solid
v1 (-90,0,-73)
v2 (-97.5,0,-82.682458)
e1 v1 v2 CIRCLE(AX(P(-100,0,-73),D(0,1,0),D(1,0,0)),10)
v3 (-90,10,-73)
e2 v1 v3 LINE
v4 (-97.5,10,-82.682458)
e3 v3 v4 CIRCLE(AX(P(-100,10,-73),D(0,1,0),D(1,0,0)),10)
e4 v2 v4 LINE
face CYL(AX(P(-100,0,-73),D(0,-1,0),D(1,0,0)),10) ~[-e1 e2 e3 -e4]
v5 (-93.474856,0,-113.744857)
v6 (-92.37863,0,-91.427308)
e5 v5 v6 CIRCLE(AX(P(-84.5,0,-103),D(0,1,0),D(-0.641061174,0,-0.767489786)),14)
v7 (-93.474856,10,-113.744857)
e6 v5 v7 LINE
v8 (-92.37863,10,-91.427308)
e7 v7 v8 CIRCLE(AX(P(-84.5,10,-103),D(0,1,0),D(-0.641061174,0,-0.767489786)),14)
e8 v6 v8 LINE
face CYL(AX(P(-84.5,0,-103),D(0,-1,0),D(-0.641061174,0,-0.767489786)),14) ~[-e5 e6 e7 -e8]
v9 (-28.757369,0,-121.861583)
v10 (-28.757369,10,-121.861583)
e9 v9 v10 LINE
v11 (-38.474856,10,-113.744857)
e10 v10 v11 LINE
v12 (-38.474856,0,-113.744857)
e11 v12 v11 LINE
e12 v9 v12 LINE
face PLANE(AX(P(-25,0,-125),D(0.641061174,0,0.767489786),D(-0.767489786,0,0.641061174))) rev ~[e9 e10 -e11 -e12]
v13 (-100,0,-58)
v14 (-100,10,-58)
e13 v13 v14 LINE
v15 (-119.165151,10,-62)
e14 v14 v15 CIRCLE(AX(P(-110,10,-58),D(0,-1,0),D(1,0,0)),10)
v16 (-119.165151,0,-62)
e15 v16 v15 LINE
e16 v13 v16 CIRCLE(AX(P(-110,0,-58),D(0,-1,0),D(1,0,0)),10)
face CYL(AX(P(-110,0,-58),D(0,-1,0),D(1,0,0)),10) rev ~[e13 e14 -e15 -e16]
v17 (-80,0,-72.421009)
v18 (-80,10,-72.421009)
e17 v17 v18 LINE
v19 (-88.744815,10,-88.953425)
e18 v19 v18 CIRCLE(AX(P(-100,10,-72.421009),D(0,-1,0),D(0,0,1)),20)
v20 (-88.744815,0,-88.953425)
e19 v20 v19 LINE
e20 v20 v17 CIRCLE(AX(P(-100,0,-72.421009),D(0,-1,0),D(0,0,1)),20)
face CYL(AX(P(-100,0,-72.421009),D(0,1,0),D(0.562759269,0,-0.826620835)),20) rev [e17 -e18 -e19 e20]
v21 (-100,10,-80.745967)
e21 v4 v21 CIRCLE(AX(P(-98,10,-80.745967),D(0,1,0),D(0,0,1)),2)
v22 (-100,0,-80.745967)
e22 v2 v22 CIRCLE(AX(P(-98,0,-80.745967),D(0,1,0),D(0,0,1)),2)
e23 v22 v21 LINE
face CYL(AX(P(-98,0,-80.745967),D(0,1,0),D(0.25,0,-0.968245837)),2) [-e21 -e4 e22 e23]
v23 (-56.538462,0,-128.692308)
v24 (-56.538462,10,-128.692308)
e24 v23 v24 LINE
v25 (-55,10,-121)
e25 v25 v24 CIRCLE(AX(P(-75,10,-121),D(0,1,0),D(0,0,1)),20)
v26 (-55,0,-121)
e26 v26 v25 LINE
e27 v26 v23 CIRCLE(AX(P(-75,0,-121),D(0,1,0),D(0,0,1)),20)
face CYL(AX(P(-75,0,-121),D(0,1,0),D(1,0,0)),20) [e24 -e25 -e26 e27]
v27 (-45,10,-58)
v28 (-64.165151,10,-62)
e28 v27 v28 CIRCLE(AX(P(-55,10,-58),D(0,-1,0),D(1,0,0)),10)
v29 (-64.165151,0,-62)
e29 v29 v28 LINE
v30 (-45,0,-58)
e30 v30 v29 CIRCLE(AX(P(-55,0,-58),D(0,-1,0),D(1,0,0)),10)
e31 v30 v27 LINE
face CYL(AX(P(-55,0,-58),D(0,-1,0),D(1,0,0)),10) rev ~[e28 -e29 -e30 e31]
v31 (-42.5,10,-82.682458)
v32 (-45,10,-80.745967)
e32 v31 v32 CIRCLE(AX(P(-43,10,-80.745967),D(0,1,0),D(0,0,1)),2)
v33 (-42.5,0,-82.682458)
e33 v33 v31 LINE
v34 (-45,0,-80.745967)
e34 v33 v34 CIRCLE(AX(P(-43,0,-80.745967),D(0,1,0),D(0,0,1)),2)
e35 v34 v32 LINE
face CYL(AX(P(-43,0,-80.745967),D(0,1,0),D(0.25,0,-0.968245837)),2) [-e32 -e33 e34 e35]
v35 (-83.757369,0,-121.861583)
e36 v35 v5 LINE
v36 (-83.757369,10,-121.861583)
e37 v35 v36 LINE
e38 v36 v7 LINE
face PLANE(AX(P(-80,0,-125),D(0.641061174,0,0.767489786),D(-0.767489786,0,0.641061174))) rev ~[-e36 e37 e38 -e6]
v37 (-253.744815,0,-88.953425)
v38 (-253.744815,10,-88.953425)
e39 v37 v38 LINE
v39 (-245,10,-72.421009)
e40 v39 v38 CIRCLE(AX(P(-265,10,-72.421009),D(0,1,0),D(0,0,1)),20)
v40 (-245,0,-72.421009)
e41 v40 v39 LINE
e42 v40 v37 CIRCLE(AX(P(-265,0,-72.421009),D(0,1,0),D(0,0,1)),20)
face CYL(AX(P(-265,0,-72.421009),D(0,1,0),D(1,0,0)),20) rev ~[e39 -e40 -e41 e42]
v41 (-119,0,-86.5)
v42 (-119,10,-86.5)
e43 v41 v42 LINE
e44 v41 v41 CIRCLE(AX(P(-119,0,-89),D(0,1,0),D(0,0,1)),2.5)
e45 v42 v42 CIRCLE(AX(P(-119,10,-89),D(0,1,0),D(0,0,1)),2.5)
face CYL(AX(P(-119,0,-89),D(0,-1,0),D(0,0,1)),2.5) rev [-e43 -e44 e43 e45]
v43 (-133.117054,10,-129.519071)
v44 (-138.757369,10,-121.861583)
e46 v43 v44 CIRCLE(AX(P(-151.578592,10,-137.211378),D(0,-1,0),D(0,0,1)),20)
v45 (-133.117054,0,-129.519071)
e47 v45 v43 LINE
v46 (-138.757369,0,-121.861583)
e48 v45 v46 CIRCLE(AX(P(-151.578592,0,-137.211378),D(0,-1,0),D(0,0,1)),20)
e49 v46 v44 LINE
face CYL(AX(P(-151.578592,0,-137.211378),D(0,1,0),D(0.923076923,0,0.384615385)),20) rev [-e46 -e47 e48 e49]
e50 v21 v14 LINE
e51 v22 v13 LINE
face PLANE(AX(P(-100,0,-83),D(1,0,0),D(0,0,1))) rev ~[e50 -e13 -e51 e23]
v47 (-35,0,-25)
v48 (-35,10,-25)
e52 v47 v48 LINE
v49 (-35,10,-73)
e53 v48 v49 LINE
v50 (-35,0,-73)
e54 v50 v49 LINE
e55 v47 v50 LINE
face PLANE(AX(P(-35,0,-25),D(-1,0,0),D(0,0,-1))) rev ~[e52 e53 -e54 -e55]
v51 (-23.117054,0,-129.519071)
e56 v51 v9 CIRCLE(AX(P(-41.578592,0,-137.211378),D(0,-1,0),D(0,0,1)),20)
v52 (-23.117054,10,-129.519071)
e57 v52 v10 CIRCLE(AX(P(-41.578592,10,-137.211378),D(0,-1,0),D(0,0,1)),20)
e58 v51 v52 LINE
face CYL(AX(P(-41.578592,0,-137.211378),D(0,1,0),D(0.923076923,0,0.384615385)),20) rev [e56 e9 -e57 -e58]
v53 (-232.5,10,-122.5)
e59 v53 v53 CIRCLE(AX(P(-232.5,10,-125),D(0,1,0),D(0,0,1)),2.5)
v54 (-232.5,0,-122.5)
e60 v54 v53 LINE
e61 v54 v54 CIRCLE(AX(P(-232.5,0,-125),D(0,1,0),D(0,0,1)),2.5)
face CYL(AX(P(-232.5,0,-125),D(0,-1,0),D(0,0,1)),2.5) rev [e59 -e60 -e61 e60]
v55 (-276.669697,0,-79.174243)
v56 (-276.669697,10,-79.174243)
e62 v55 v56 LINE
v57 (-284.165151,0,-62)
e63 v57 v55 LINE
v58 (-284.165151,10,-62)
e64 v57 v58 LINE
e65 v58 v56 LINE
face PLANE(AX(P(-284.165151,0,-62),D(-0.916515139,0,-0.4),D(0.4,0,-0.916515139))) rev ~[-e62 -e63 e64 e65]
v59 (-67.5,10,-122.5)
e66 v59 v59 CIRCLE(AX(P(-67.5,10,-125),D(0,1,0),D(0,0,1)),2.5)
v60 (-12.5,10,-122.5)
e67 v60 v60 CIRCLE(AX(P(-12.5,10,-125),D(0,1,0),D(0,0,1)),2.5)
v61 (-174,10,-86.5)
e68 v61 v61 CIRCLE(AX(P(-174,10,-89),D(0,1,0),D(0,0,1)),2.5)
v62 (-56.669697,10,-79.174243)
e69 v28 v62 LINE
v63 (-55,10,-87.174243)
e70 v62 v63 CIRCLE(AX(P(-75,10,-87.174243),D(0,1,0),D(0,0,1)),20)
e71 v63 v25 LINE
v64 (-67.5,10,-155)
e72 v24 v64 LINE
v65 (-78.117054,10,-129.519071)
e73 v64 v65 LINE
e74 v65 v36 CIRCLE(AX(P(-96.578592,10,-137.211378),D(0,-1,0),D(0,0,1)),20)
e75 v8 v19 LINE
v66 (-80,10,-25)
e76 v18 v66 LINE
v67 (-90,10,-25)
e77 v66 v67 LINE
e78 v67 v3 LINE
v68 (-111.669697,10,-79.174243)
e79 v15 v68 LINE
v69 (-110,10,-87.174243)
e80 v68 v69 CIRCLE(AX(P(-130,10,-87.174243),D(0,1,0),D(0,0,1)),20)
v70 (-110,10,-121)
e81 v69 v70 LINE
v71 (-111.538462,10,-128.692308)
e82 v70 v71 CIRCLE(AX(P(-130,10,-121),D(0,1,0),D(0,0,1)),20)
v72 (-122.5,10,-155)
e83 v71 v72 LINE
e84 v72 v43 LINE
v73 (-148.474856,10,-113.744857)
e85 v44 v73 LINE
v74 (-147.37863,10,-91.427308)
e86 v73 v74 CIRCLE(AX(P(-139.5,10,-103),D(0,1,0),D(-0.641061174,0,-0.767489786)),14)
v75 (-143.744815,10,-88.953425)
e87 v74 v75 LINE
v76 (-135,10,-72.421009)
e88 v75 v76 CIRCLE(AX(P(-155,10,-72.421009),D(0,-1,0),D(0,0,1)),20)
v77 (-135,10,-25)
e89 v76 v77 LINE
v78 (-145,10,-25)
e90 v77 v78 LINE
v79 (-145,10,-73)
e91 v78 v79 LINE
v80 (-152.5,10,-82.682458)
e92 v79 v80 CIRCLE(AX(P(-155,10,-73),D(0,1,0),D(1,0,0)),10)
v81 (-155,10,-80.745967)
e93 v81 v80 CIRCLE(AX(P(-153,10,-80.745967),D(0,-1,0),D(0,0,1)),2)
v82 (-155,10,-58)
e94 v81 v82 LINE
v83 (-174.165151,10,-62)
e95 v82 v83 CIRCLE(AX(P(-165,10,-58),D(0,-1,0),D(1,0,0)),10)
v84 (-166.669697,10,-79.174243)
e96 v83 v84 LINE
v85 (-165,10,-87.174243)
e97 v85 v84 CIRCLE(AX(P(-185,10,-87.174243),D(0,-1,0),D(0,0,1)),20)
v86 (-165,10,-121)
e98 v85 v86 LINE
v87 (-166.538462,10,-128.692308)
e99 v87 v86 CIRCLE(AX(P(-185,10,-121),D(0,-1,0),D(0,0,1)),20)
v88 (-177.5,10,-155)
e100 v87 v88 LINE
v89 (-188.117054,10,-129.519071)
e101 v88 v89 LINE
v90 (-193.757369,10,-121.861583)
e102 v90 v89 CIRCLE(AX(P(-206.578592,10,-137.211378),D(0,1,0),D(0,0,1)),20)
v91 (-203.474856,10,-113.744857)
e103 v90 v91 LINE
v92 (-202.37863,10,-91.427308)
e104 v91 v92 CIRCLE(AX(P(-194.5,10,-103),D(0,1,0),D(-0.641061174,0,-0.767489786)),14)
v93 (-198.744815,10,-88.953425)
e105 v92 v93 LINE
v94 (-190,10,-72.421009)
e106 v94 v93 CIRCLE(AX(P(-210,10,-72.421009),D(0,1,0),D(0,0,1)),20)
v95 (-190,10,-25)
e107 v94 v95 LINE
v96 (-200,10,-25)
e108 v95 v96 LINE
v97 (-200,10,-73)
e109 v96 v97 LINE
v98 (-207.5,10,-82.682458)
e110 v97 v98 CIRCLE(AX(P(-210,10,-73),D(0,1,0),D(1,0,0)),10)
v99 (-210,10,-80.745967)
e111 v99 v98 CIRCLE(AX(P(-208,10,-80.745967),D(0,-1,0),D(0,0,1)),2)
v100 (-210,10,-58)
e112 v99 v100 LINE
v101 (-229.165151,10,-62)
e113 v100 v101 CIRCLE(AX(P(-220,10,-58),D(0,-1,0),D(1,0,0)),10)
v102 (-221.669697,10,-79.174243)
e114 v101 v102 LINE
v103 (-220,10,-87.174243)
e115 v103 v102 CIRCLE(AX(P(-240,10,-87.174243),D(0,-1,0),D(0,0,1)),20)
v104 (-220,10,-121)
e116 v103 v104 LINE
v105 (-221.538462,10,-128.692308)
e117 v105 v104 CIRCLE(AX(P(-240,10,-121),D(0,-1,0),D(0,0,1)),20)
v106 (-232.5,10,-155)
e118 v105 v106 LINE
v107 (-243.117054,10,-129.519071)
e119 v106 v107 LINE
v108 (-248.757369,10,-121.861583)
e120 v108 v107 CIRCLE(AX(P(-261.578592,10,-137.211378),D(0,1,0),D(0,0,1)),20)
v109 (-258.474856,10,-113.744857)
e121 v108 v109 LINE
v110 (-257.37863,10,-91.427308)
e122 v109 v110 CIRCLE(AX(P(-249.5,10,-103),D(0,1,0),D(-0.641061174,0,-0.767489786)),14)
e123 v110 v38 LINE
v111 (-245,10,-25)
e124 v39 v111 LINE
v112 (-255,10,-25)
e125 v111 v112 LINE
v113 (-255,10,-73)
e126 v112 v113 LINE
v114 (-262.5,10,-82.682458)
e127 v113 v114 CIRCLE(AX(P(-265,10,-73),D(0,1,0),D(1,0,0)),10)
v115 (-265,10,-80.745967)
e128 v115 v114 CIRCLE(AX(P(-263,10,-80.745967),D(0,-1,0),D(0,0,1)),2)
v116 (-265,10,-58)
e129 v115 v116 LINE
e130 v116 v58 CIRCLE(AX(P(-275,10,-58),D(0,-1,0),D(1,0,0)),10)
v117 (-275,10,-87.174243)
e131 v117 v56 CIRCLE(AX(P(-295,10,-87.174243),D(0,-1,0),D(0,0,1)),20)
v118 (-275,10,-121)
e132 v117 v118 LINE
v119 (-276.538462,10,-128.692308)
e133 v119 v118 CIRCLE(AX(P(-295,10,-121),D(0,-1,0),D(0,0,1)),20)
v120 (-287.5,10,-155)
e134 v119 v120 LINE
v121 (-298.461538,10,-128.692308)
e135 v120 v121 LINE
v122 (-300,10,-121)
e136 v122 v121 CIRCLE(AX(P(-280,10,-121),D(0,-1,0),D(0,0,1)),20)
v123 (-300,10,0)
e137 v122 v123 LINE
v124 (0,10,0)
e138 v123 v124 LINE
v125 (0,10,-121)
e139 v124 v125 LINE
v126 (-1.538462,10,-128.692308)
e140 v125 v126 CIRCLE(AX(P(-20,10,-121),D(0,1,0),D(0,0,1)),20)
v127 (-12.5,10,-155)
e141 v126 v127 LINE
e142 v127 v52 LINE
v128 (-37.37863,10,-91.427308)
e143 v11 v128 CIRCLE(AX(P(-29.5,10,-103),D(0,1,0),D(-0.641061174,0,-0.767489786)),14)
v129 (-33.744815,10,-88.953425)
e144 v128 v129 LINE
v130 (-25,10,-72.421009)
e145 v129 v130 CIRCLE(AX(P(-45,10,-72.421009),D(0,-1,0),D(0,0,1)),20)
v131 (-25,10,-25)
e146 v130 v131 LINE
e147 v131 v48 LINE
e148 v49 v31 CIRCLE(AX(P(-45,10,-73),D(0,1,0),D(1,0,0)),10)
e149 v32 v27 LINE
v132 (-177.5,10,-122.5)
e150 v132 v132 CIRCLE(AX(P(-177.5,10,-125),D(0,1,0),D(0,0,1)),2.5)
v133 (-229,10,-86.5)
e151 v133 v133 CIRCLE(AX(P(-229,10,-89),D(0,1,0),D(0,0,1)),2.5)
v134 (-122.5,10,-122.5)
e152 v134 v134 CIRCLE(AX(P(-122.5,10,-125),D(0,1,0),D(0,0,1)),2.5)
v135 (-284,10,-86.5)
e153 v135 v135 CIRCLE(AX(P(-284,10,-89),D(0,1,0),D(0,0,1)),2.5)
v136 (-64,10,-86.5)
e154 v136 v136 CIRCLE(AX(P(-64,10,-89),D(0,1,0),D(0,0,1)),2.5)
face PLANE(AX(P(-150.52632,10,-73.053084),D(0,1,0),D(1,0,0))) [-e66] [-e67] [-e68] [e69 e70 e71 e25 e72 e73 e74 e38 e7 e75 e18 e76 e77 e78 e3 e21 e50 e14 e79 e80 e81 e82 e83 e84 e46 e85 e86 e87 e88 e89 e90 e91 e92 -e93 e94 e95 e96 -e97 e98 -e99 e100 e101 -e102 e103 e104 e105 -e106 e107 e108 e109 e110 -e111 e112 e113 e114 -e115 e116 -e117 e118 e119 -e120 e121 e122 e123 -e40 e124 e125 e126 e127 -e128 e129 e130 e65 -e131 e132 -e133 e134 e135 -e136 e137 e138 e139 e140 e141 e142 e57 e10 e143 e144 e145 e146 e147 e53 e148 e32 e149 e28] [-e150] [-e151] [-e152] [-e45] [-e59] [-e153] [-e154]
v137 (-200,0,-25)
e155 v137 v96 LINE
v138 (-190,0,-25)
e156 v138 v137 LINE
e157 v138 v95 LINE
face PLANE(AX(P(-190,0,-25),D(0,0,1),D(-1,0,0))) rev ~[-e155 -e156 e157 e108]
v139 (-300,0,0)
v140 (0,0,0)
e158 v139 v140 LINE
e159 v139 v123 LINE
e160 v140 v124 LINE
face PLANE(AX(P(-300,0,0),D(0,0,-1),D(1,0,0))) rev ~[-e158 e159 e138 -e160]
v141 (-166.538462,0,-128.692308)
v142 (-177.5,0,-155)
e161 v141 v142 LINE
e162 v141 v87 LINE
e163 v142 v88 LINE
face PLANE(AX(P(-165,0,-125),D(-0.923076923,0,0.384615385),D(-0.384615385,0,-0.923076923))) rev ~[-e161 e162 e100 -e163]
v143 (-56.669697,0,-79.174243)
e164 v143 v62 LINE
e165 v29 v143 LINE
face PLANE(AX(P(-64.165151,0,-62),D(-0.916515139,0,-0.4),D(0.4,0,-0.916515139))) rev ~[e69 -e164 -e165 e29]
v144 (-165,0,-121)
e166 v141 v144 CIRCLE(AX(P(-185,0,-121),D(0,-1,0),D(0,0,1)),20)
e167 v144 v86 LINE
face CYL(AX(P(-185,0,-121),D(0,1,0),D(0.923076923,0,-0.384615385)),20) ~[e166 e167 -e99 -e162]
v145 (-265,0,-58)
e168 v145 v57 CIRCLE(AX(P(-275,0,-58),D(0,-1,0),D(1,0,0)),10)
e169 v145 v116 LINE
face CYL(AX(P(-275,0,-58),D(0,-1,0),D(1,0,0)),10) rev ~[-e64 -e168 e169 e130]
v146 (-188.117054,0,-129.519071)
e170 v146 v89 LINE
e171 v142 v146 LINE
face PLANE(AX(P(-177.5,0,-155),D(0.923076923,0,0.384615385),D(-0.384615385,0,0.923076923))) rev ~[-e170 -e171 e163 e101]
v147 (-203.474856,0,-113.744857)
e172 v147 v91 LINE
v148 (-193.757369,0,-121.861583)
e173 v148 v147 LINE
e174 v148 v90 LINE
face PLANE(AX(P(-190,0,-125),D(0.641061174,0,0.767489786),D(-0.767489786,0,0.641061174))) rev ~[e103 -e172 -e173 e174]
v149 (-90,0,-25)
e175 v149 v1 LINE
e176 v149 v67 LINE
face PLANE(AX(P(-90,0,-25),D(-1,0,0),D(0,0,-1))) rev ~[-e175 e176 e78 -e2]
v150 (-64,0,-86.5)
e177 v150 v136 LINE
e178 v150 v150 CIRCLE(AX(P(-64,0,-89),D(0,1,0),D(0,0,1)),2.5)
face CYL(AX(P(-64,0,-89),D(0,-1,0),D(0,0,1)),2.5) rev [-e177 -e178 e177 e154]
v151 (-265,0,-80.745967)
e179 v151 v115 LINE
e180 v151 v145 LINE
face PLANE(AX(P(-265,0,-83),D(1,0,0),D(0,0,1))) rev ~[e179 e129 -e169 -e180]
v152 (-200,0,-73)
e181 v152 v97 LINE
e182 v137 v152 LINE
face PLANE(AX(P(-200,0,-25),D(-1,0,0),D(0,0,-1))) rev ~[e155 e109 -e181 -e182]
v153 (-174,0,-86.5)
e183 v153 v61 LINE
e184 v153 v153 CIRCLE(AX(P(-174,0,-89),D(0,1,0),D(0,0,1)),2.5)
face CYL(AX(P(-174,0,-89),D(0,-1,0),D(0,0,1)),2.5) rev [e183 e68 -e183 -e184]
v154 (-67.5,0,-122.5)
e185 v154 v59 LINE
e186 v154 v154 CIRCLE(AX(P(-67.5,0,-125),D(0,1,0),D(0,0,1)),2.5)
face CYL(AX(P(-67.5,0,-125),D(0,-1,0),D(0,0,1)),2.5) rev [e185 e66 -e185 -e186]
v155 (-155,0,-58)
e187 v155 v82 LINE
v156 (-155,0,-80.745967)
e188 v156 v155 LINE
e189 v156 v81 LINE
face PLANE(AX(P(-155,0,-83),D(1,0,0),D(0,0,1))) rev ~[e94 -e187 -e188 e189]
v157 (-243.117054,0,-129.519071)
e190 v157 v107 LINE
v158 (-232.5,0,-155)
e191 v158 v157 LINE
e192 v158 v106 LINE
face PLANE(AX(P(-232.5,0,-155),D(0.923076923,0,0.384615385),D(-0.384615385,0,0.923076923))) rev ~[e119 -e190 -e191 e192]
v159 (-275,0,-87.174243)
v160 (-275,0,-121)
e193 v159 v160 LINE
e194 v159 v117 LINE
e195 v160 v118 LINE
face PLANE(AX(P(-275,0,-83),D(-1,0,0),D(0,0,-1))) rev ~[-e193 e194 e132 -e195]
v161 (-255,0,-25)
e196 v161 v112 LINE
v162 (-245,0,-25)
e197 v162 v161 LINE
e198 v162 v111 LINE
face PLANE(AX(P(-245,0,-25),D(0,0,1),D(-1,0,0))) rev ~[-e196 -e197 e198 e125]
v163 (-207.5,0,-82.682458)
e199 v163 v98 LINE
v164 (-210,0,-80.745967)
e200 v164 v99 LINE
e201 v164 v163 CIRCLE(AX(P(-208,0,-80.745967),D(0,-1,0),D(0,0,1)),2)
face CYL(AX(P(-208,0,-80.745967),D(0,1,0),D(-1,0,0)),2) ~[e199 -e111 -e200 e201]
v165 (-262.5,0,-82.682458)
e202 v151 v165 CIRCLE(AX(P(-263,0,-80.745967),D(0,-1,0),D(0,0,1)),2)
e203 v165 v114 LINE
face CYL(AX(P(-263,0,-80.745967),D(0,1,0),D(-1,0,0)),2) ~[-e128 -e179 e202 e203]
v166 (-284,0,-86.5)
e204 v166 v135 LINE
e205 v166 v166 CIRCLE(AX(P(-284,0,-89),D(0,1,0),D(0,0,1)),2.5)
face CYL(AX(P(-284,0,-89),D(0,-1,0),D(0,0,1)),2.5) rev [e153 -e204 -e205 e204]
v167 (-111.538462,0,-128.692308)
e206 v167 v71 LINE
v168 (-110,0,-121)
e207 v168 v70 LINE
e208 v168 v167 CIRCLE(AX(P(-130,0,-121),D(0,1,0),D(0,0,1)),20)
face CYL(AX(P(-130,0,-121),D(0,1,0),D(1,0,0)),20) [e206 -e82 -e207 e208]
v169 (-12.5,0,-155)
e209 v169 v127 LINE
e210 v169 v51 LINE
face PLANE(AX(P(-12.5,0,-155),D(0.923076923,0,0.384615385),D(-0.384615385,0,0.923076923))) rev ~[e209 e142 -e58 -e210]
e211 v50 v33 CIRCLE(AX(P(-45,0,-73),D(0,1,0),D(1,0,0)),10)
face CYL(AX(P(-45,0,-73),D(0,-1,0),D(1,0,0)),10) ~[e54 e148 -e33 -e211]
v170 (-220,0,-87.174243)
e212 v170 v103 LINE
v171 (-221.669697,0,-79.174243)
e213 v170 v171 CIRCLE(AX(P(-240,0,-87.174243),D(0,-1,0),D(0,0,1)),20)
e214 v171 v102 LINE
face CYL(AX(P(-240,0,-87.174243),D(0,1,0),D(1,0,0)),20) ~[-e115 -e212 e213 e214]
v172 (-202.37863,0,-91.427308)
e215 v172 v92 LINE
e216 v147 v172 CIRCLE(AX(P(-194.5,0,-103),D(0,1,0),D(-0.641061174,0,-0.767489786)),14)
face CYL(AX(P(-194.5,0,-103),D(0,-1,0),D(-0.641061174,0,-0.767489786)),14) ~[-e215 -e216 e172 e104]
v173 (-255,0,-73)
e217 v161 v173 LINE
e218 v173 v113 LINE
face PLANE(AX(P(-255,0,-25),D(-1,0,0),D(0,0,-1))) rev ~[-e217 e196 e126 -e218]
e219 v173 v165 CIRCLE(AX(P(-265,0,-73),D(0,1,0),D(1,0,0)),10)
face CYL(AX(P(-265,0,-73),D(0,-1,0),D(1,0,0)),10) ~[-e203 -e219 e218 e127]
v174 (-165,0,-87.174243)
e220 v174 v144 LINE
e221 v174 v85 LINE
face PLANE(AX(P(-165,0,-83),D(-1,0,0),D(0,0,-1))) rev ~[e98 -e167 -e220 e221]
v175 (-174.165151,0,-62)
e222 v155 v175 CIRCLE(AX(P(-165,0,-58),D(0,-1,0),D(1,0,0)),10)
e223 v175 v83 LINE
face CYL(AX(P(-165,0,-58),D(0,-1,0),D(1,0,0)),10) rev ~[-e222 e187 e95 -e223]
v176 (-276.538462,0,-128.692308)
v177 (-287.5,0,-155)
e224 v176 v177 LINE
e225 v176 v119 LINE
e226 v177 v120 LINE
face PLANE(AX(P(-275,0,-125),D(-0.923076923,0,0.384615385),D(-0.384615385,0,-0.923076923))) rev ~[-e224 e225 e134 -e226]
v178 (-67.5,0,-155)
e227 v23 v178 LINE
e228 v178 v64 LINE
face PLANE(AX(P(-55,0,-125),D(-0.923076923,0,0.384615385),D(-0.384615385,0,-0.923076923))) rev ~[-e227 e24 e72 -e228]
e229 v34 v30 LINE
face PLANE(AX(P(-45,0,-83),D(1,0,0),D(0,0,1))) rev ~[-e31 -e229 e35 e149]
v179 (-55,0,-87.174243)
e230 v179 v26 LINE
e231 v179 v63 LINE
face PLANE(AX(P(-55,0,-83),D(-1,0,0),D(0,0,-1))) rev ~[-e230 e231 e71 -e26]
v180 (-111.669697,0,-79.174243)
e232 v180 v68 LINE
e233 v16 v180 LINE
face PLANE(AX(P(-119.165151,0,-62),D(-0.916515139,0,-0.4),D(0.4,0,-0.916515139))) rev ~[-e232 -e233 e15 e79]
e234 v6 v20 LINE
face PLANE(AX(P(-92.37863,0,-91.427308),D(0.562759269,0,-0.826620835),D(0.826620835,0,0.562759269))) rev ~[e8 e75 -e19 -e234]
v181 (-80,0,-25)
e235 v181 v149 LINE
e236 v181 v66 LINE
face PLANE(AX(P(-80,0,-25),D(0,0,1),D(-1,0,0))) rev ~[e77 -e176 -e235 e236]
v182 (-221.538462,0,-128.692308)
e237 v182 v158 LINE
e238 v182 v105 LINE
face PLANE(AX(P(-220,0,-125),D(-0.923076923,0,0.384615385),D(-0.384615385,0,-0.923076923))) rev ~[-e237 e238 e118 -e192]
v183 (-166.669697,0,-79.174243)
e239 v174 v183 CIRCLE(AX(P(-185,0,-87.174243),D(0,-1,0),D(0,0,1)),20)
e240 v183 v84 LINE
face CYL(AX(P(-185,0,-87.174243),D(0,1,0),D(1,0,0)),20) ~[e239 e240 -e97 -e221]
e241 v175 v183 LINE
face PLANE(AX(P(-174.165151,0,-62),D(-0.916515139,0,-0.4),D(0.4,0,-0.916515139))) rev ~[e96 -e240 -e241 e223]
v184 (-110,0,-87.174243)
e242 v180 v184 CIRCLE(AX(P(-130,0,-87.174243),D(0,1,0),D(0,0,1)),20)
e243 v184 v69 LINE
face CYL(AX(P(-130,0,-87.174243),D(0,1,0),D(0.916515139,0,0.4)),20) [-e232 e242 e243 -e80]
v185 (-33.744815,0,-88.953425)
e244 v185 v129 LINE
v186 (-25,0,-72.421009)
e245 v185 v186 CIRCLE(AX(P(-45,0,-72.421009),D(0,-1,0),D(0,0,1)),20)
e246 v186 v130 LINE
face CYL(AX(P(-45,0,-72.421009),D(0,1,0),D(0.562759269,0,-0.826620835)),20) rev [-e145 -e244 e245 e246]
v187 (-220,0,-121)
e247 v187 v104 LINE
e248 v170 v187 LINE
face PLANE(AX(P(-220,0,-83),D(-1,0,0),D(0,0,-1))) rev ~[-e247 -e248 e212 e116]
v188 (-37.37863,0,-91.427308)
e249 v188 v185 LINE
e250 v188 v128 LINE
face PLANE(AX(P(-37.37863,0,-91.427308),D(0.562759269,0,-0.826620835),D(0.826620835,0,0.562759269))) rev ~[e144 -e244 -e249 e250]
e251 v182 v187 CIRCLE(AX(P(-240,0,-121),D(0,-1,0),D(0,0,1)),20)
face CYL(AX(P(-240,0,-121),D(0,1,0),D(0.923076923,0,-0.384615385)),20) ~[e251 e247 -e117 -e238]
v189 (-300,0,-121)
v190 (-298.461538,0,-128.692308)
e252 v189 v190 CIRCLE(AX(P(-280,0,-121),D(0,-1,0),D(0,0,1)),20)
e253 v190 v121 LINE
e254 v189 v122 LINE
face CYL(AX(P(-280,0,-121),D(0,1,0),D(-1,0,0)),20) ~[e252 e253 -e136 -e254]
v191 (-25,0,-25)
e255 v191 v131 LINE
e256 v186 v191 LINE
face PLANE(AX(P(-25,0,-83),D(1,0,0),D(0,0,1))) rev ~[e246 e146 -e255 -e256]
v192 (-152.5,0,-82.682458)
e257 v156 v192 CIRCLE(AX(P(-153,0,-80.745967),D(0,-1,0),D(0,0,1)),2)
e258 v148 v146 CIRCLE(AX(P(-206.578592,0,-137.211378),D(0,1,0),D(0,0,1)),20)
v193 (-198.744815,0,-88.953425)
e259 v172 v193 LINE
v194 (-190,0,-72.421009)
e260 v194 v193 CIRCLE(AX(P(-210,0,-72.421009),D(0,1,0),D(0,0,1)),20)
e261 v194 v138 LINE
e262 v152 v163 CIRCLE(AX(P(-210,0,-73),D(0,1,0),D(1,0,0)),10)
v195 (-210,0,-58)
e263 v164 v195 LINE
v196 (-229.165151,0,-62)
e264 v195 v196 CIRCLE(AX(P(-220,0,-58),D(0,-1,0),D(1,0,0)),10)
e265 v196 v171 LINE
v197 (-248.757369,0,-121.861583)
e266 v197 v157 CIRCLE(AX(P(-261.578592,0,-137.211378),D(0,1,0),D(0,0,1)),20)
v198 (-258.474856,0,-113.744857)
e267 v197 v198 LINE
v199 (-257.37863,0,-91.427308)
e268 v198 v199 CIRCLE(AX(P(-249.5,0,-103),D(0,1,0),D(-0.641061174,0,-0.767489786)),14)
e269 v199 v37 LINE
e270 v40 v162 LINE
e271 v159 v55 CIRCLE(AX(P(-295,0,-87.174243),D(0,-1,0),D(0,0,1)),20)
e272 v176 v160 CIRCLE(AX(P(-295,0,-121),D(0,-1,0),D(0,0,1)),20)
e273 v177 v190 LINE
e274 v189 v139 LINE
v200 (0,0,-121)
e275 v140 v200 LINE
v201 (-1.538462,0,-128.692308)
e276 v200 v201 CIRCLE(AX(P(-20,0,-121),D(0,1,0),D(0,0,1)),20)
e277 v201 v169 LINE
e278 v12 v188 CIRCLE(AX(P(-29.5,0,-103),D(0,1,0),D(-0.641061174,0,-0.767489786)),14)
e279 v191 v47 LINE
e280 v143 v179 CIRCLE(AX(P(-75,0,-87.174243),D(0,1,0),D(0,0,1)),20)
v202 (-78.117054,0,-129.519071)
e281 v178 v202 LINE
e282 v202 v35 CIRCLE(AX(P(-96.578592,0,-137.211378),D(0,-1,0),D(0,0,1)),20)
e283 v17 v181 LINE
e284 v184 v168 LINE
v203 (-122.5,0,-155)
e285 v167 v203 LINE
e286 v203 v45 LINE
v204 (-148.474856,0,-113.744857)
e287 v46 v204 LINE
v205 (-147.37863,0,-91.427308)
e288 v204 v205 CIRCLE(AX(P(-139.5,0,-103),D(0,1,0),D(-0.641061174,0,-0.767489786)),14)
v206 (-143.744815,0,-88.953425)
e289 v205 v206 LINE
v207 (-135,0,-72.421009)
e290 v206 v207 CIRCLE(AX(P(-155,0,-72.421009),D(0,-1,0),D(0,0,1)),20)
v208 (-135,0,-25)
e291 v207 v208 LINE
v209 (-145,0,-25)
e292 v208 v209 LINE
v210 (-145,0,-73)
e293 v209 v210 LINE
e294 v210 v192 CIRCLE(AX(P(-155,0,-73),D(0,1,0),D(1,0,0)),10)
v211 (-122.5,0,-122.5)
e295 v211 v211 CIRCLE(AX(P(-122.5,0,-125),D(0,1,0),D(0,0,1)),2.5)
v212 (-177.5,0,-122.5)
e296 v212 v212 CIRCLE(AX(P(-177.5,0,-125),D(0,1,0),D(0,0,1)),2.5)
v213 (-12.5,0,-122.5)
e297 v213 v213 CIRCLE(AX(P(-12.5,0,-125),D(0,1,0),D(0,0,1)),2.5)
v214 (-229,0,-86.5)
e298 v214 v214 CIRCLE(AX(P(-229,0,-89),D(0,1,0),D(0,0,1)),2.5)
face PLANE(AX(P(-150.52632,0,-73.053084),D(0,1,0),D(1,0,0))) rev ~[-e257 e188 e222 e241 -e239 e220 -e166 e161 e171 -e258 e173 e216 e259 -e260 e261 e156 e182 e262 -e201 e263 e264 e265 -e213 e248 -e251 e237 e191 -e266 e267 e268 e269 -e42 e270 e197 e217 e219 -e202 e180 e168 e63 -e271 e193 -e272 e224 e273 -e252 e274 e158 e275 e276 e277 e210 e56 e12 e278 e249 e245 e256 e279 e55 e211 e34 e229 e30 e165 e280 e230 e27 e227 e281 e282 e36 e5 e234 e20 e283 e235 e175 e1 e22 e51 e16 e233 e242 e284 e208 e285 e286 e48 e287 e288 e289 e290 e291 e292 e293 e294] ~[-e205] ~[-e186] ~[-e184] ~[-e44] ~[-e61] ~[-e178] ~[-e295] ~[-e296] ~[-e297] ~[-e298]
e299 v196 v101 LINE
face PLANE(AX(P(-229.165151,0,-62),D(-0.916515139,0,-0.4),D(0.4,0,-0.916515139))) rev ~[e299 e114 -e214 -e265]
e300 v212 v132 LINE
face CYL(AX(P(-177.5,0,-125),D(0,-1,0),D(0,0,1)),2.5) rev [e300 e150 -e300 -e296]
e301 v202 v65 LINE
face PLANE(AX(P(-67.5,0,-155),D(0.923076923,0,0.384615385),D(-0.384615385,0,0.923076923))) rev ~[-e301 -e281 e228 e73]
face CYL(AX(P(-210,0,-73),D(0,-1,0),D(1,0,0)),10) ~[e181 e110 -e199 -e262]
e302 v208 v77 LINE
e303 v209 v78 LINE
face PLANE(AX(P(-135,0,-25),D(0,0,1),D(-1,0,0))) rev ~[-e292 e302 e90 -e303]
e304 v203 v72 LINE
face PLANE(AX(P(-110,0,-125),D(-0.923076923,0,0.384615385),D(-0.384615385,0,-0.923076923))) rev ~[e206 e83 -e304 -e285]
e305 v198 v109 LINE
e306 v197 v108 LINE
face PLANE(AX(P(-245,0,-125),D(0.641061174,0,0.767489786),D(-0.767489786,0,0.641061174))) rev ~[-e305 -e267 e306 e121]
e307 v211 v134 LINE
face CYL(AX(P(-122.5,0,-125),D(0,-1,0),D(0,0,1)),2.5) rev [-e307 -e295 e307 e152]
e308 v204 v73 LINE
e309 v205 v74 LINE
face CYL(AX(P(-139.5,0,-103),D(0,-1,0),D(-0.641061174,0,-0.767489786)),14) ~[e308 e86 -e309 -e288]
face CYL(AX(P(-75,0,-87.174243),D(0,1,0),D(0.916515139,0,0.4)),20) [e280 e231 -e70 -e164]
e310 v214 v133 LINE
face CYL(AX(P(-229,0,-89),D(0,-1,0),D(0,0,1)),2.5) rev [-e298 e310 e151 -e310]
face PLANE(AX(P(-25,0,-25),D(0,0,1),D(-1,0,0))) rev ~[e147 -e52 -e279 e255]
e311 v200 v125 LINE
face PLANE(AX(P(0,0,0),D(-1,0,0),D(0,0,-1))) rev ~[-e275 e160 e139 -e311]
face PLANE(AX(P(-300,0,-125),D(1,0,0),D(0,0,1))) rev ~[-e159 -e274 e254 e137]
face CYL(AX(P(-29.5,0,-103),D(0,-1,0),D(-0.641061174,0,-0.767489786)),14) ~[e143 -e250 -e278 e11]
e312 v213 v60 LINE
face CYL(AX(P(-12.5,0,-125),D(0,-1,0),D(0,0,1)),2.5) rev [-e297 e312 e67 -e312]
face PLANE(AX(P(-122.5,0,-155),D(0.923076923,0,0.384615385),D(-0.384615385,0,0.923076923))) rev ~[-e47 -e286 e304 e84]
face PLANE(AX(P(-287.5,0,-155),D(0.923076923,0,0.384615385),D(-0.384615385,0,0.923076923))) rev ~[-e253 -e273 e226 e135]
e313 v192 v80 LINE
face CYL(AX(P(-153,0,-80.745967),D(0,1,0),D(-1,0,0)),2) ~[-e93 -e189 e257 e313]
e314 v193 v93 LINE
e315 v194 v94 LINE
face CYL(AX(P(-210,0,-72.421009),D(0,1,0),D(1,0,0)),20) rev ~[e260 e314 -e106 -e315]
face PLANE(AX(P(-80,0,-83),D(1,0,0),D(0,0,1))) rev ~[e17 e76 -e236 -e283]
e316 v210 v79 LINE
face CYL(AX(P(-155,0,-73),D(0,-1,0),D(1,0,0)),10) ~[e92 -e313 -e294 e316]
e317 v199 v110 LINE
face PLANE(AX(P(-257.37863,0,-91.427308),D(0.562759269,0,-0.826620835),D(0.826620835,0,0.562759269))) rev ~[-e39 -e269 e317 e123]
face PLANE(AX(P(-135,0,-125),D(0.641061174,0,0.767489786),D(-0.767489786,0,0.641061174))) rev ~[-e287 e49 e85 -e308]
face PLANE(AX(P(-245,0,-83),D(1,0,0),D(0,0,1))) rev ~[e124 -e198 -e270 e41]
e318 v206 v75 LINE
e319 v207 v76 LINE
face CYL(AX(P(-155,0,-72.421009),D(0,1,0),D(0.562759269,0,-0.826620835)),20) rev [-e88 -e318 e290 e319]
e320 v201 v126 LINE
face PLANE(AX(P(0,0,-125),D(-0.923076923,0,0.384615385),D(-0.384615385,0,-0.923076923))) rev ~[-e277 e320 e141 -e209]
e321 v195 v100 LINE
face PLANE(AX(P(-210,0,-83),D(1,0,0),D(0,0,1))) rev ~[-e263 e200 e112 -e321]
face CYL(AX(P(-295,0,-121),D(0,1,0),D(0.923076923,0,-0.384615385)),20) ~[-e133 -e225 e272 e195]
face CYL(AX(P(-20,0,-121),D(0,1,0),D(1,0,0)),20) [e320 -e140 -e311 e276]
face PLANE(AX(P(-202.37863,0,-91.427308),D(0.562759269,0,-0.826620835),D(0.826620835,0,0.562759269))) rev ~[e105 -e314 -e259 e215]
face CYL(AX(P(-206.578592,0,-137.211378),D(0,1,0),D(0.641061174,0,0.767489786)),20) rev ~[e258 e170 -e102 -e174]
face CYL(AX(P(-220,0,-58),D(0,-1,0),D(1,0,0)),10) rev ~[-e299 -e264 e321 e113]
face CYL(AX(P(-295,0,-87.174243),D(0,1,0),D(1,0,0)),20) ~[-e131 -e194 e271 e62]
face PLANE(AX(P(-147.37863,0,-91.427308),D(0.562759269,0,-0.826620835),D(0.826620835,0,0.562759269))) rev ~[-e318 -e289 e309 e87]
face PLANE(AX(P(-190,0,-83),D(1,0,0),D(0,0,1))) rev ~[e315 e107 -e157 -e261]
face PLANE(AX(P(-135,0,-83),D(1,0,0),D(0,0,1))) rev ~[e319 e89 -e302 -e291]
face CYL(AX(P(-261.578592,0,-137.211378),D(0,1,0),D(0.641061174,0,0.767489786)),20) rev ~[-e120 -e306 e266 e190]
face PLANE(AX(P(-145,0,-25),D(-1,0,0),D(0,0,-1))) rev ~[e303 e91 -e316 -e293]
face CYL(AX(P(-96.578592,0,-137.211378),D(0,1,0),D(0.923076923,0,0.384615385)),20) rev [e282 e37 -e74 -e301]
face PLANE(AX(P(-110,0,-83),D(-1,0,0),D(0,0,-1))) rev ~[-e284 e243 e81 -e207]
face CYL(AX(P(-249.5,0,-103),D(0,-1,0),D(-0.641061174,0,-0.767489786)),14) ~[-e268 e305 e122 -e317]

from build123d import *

# Parameters (mm, degrees)
SKETCH1_R           = 2.5
BOSS_EXTRUDE1_DEPTH = 10
FILLET1_R           = 20
FILLET2_R           = 2


with BuildPart() as part:
    # Sketch1 → Boss-Extrude1 (new body)
    with BuildSketch(Plane(origin=(0, 0, 0), x_dir=(1, 0, 0), z_dir=(0, 1, 0))):
        with BuildLine():
            Line((0, 0), (0, 125))
            Line((0, 125), (-12.5, 155))
            Line((-12.5, 155), (-25, 125))
            Line((-25, 125), (-38.474856438, 113.744856999))
            ThreePointArc((-38.474856438, 113.744856999), (-43.483141428, 102.313155182), (-37.378629761, 91.427308304))
            Line((-37.378629761, 91.427308304), (-25, 83))
            Line((-25, 83), (-25, 25))
            Line((-25, 25), (-35, 25))
            Line((-35, 25), (-35, 73))
            ThreePointArc((-35, 73), (-37.928932188, 80.071067812), (-45, 83))
            Line((-45, 83), (-45, 58))
            ThreePointArc((-45, 58), (-57.043096437, 48.210936871), (-64.16515139, 62))
            Line((-64.16515139, 62), (-55, 83))
            Line((-55, 83), (-55, 125))
            Line((-55, 125), (-67.5, 155))
            Line((-67.5, 155), (-80, 125))
            Line((-80, 125), (-93.474856438, 113.744856999))
            ThreePointArc((-93.474856438, 113.744856999), (-98.483141428, 102.313155182), (-92.378629761, 91.427308304))
            Line((-92.378629761, 91.427308304), (-80, 83))
            Line((-80, 83), (-80, 25))
            Line((-80, 25), (-90, 25))
            Line((-90, 25), (-90, 73))
            ThreePointArc((-90, 73), (-92.928932188, 80.071067812), (-100, 83))
            Line((-100, 83), (-100, 58))
            ThreePointArc((-100, 58), (-112.043096437, 48.210936871), (-119.16515139, 62))
            Line((-119.16515139, 62), (-110, 83))
            Line((-110, 83), (-110, 125))
            Line((-110, 125), (-122.5, 155))
            Line((-122.5, 155), (-135, 125))
            Line((-135, 125), (-148.474856438, 113.744856999))
            ThreePointArc((-148.474856438, 113.744856999), (-153.483141428, 102.313155182), (-147.378629761, 91.427308304))
            Line((-147.378629761, 91.427308304), (-135, 83))
            Line((-135, 83), (-135, 25))
            Line((-135, 25), (-145, 25))
            Line((-145, 25), (-145, 73))
            ThreePointArc((-145, 73), (-147.928932188, 80.071067812), (-155, 83))
            Line((-155, 83), (-155, 58))
            ThreePointArc((-155, 58), (-167.043096437, 48.210936871), (-174.16515139, 62))
            Line((-174.16515139, 62), (-165, 83))
            Line((-165, 83), (-165, 125))
            Line((-165, 125), (-177.5, 155))
            Line((-177.5, 155), (-190, 125))
            Line((-190, 125), (-203.474856438, 113.744856999))
            ThreePointArc((-203.474856438, 113.744856999), (-208.483141428, 102.313155182), (-202.378629761, 91.427308304))
            Line((-202.378629761, 91.427308304), (-190, 83))
            Line((-190, 83), (-190, 25))
            Line((-190, 25), (-200, 25))
            Line((-200, 25), (-200, 73))
            ThreePointArc((-200, 73), (-202.928932188, 80.071067812), (-210, 83))
            Line((-210, 83), (-210, 58))
            ThreePointArc((-210, 58), (-222.043096437, 48.210936871), (-229.16515139, 62))
            Line((-229.16515139, 62), (-220, 83))
            Line((-220, 83), (-220, 125))
            Line((-220, 125), (-232.5, 155))
            Line((-232.5, 155), (-245, 125))
            Line((-245, 125), (-258.474856438, 113.744856999))
            ThreePointArc((-258.474856438, 113.744856999), (-263.483141428, 102.313155182), (-257.378629761, 91.427308304))
            Line((-257.378629761, 91.427308304), (-245, 83))
            Line((-245, 83), (-245, 25))
            Line((-245, 25), (-255, 25))
            Line((-255, 25), (-255, 73))
            ThreePointArc((-255, 73), (-257.928932188, 80.071067812), (-265, 83))
            Line((-265, 83), (-265, 58))
            ThreePointArc((-265, 58), (-277.043096437, 48.210936871), (-284.16515139, 62))
            Line((-284.16515139, 62), (-275, 83))
            Line((-275, 83), (-275, 125))
            Line((-275, 125), (-287.5, 155))
            Line((-287.5, 155), (-300, 125))
            Line((-300, 125), (-300, 0))
            Line((-300, 0), (0, 0))
        make_face()
        with Locations(Location((-12.5, 125, 0), (0, 0, 270))):
            Circle(SKETCH1_R, mode=Mode.SUBTRACT)
        with Locations(Location((-64, 89, 0), (0, 0, 270))):
            Circle(SKETCH1_R, mode=Mode.SUBTRACT)
        with Locations(Location((-67.5, 125, 0), (0, 0, 270))):
            Circle(SKETCH1_R, mode=Mode.SUBTRACT)
        with Locations(Location((-119, 89, 0), (0, 0, 270))):
            Circle(SKETCH1_R, mode=Mode.SUBTRACT)
        with Locations(Location((-122.5, 125, 0), (0, 0, 270))):
            Circle(SKETCH1_R, mode=Mode.SUBTRACT)
        with Locations(Location((-174, 89, 0), (0, 0, 270))):
            Circle(SKETCH1_R, mode=Mode.SUBTRACT)
        with Locations(Location((-177.5, 125, 0), (0, 0, 270))):
            Circle(SKETCH1_R, mode=Mode.SUBTRACT)
        with Locations(Location((-229, 89, 0), (0, 0, 270))):
            Circle(SKETCH1_R, mode=Mode.SUBTRACT)
        with Locations(Location((-232.5, 125, 0), (0, 0, 270))):
            Circle(SKETCH1_R, mode=Mode.SUBTRACT)
        with Locations(Location((-284, 89, 0), (0, 0, 270))):
            Circle(SKETCH1_R, mode=Mode.SUBTRACT)
    extrude(amount=BOSS_EXTRUDE1_DEPTH)

    # Fillet1
    fillet1_edges = [part.edges().sort_by_distance(p)[0] for p in [
        (-300, 5, -125),
        (-275, 5, -125),
        (-275, 5, -83),
        (-245, 5, -83),
        (-245, 5, -125),
        (-220, 5, -125),
        (-220, 5, -83),
        (-190, 5, -83),
        (-190, 5, -125),
        (-165, 5, -125),
        (-165, 5, -83),
        (-135, 5, -83),
        (-135, 5, -125),
        (-110, 5, -125),
        (-110, 5, -83),
        (-80, 5, -83),
        (-80, 5, -125),
        (-55, 5, -125),
        (-55, 5, -83),
        (-25, 5, -83),
        (-25, 5, -125),
        (0, 5, -125),
    ]]
    fillet(fillet1_edges, radius=FILLET1_R)

    # Fillet2
    fillet2_edges = [part.edges().sort_by_distance(p)[0] for p in [
        (-265, 5, -83),
        (-210, 5, -83),
        (-155, 5, -83),
        (-100, 5, -83),
        (-45, 5, -83),
    ]]
    fillet(fillet2_edges, radius=FILLET2_R)


solid = part.part
